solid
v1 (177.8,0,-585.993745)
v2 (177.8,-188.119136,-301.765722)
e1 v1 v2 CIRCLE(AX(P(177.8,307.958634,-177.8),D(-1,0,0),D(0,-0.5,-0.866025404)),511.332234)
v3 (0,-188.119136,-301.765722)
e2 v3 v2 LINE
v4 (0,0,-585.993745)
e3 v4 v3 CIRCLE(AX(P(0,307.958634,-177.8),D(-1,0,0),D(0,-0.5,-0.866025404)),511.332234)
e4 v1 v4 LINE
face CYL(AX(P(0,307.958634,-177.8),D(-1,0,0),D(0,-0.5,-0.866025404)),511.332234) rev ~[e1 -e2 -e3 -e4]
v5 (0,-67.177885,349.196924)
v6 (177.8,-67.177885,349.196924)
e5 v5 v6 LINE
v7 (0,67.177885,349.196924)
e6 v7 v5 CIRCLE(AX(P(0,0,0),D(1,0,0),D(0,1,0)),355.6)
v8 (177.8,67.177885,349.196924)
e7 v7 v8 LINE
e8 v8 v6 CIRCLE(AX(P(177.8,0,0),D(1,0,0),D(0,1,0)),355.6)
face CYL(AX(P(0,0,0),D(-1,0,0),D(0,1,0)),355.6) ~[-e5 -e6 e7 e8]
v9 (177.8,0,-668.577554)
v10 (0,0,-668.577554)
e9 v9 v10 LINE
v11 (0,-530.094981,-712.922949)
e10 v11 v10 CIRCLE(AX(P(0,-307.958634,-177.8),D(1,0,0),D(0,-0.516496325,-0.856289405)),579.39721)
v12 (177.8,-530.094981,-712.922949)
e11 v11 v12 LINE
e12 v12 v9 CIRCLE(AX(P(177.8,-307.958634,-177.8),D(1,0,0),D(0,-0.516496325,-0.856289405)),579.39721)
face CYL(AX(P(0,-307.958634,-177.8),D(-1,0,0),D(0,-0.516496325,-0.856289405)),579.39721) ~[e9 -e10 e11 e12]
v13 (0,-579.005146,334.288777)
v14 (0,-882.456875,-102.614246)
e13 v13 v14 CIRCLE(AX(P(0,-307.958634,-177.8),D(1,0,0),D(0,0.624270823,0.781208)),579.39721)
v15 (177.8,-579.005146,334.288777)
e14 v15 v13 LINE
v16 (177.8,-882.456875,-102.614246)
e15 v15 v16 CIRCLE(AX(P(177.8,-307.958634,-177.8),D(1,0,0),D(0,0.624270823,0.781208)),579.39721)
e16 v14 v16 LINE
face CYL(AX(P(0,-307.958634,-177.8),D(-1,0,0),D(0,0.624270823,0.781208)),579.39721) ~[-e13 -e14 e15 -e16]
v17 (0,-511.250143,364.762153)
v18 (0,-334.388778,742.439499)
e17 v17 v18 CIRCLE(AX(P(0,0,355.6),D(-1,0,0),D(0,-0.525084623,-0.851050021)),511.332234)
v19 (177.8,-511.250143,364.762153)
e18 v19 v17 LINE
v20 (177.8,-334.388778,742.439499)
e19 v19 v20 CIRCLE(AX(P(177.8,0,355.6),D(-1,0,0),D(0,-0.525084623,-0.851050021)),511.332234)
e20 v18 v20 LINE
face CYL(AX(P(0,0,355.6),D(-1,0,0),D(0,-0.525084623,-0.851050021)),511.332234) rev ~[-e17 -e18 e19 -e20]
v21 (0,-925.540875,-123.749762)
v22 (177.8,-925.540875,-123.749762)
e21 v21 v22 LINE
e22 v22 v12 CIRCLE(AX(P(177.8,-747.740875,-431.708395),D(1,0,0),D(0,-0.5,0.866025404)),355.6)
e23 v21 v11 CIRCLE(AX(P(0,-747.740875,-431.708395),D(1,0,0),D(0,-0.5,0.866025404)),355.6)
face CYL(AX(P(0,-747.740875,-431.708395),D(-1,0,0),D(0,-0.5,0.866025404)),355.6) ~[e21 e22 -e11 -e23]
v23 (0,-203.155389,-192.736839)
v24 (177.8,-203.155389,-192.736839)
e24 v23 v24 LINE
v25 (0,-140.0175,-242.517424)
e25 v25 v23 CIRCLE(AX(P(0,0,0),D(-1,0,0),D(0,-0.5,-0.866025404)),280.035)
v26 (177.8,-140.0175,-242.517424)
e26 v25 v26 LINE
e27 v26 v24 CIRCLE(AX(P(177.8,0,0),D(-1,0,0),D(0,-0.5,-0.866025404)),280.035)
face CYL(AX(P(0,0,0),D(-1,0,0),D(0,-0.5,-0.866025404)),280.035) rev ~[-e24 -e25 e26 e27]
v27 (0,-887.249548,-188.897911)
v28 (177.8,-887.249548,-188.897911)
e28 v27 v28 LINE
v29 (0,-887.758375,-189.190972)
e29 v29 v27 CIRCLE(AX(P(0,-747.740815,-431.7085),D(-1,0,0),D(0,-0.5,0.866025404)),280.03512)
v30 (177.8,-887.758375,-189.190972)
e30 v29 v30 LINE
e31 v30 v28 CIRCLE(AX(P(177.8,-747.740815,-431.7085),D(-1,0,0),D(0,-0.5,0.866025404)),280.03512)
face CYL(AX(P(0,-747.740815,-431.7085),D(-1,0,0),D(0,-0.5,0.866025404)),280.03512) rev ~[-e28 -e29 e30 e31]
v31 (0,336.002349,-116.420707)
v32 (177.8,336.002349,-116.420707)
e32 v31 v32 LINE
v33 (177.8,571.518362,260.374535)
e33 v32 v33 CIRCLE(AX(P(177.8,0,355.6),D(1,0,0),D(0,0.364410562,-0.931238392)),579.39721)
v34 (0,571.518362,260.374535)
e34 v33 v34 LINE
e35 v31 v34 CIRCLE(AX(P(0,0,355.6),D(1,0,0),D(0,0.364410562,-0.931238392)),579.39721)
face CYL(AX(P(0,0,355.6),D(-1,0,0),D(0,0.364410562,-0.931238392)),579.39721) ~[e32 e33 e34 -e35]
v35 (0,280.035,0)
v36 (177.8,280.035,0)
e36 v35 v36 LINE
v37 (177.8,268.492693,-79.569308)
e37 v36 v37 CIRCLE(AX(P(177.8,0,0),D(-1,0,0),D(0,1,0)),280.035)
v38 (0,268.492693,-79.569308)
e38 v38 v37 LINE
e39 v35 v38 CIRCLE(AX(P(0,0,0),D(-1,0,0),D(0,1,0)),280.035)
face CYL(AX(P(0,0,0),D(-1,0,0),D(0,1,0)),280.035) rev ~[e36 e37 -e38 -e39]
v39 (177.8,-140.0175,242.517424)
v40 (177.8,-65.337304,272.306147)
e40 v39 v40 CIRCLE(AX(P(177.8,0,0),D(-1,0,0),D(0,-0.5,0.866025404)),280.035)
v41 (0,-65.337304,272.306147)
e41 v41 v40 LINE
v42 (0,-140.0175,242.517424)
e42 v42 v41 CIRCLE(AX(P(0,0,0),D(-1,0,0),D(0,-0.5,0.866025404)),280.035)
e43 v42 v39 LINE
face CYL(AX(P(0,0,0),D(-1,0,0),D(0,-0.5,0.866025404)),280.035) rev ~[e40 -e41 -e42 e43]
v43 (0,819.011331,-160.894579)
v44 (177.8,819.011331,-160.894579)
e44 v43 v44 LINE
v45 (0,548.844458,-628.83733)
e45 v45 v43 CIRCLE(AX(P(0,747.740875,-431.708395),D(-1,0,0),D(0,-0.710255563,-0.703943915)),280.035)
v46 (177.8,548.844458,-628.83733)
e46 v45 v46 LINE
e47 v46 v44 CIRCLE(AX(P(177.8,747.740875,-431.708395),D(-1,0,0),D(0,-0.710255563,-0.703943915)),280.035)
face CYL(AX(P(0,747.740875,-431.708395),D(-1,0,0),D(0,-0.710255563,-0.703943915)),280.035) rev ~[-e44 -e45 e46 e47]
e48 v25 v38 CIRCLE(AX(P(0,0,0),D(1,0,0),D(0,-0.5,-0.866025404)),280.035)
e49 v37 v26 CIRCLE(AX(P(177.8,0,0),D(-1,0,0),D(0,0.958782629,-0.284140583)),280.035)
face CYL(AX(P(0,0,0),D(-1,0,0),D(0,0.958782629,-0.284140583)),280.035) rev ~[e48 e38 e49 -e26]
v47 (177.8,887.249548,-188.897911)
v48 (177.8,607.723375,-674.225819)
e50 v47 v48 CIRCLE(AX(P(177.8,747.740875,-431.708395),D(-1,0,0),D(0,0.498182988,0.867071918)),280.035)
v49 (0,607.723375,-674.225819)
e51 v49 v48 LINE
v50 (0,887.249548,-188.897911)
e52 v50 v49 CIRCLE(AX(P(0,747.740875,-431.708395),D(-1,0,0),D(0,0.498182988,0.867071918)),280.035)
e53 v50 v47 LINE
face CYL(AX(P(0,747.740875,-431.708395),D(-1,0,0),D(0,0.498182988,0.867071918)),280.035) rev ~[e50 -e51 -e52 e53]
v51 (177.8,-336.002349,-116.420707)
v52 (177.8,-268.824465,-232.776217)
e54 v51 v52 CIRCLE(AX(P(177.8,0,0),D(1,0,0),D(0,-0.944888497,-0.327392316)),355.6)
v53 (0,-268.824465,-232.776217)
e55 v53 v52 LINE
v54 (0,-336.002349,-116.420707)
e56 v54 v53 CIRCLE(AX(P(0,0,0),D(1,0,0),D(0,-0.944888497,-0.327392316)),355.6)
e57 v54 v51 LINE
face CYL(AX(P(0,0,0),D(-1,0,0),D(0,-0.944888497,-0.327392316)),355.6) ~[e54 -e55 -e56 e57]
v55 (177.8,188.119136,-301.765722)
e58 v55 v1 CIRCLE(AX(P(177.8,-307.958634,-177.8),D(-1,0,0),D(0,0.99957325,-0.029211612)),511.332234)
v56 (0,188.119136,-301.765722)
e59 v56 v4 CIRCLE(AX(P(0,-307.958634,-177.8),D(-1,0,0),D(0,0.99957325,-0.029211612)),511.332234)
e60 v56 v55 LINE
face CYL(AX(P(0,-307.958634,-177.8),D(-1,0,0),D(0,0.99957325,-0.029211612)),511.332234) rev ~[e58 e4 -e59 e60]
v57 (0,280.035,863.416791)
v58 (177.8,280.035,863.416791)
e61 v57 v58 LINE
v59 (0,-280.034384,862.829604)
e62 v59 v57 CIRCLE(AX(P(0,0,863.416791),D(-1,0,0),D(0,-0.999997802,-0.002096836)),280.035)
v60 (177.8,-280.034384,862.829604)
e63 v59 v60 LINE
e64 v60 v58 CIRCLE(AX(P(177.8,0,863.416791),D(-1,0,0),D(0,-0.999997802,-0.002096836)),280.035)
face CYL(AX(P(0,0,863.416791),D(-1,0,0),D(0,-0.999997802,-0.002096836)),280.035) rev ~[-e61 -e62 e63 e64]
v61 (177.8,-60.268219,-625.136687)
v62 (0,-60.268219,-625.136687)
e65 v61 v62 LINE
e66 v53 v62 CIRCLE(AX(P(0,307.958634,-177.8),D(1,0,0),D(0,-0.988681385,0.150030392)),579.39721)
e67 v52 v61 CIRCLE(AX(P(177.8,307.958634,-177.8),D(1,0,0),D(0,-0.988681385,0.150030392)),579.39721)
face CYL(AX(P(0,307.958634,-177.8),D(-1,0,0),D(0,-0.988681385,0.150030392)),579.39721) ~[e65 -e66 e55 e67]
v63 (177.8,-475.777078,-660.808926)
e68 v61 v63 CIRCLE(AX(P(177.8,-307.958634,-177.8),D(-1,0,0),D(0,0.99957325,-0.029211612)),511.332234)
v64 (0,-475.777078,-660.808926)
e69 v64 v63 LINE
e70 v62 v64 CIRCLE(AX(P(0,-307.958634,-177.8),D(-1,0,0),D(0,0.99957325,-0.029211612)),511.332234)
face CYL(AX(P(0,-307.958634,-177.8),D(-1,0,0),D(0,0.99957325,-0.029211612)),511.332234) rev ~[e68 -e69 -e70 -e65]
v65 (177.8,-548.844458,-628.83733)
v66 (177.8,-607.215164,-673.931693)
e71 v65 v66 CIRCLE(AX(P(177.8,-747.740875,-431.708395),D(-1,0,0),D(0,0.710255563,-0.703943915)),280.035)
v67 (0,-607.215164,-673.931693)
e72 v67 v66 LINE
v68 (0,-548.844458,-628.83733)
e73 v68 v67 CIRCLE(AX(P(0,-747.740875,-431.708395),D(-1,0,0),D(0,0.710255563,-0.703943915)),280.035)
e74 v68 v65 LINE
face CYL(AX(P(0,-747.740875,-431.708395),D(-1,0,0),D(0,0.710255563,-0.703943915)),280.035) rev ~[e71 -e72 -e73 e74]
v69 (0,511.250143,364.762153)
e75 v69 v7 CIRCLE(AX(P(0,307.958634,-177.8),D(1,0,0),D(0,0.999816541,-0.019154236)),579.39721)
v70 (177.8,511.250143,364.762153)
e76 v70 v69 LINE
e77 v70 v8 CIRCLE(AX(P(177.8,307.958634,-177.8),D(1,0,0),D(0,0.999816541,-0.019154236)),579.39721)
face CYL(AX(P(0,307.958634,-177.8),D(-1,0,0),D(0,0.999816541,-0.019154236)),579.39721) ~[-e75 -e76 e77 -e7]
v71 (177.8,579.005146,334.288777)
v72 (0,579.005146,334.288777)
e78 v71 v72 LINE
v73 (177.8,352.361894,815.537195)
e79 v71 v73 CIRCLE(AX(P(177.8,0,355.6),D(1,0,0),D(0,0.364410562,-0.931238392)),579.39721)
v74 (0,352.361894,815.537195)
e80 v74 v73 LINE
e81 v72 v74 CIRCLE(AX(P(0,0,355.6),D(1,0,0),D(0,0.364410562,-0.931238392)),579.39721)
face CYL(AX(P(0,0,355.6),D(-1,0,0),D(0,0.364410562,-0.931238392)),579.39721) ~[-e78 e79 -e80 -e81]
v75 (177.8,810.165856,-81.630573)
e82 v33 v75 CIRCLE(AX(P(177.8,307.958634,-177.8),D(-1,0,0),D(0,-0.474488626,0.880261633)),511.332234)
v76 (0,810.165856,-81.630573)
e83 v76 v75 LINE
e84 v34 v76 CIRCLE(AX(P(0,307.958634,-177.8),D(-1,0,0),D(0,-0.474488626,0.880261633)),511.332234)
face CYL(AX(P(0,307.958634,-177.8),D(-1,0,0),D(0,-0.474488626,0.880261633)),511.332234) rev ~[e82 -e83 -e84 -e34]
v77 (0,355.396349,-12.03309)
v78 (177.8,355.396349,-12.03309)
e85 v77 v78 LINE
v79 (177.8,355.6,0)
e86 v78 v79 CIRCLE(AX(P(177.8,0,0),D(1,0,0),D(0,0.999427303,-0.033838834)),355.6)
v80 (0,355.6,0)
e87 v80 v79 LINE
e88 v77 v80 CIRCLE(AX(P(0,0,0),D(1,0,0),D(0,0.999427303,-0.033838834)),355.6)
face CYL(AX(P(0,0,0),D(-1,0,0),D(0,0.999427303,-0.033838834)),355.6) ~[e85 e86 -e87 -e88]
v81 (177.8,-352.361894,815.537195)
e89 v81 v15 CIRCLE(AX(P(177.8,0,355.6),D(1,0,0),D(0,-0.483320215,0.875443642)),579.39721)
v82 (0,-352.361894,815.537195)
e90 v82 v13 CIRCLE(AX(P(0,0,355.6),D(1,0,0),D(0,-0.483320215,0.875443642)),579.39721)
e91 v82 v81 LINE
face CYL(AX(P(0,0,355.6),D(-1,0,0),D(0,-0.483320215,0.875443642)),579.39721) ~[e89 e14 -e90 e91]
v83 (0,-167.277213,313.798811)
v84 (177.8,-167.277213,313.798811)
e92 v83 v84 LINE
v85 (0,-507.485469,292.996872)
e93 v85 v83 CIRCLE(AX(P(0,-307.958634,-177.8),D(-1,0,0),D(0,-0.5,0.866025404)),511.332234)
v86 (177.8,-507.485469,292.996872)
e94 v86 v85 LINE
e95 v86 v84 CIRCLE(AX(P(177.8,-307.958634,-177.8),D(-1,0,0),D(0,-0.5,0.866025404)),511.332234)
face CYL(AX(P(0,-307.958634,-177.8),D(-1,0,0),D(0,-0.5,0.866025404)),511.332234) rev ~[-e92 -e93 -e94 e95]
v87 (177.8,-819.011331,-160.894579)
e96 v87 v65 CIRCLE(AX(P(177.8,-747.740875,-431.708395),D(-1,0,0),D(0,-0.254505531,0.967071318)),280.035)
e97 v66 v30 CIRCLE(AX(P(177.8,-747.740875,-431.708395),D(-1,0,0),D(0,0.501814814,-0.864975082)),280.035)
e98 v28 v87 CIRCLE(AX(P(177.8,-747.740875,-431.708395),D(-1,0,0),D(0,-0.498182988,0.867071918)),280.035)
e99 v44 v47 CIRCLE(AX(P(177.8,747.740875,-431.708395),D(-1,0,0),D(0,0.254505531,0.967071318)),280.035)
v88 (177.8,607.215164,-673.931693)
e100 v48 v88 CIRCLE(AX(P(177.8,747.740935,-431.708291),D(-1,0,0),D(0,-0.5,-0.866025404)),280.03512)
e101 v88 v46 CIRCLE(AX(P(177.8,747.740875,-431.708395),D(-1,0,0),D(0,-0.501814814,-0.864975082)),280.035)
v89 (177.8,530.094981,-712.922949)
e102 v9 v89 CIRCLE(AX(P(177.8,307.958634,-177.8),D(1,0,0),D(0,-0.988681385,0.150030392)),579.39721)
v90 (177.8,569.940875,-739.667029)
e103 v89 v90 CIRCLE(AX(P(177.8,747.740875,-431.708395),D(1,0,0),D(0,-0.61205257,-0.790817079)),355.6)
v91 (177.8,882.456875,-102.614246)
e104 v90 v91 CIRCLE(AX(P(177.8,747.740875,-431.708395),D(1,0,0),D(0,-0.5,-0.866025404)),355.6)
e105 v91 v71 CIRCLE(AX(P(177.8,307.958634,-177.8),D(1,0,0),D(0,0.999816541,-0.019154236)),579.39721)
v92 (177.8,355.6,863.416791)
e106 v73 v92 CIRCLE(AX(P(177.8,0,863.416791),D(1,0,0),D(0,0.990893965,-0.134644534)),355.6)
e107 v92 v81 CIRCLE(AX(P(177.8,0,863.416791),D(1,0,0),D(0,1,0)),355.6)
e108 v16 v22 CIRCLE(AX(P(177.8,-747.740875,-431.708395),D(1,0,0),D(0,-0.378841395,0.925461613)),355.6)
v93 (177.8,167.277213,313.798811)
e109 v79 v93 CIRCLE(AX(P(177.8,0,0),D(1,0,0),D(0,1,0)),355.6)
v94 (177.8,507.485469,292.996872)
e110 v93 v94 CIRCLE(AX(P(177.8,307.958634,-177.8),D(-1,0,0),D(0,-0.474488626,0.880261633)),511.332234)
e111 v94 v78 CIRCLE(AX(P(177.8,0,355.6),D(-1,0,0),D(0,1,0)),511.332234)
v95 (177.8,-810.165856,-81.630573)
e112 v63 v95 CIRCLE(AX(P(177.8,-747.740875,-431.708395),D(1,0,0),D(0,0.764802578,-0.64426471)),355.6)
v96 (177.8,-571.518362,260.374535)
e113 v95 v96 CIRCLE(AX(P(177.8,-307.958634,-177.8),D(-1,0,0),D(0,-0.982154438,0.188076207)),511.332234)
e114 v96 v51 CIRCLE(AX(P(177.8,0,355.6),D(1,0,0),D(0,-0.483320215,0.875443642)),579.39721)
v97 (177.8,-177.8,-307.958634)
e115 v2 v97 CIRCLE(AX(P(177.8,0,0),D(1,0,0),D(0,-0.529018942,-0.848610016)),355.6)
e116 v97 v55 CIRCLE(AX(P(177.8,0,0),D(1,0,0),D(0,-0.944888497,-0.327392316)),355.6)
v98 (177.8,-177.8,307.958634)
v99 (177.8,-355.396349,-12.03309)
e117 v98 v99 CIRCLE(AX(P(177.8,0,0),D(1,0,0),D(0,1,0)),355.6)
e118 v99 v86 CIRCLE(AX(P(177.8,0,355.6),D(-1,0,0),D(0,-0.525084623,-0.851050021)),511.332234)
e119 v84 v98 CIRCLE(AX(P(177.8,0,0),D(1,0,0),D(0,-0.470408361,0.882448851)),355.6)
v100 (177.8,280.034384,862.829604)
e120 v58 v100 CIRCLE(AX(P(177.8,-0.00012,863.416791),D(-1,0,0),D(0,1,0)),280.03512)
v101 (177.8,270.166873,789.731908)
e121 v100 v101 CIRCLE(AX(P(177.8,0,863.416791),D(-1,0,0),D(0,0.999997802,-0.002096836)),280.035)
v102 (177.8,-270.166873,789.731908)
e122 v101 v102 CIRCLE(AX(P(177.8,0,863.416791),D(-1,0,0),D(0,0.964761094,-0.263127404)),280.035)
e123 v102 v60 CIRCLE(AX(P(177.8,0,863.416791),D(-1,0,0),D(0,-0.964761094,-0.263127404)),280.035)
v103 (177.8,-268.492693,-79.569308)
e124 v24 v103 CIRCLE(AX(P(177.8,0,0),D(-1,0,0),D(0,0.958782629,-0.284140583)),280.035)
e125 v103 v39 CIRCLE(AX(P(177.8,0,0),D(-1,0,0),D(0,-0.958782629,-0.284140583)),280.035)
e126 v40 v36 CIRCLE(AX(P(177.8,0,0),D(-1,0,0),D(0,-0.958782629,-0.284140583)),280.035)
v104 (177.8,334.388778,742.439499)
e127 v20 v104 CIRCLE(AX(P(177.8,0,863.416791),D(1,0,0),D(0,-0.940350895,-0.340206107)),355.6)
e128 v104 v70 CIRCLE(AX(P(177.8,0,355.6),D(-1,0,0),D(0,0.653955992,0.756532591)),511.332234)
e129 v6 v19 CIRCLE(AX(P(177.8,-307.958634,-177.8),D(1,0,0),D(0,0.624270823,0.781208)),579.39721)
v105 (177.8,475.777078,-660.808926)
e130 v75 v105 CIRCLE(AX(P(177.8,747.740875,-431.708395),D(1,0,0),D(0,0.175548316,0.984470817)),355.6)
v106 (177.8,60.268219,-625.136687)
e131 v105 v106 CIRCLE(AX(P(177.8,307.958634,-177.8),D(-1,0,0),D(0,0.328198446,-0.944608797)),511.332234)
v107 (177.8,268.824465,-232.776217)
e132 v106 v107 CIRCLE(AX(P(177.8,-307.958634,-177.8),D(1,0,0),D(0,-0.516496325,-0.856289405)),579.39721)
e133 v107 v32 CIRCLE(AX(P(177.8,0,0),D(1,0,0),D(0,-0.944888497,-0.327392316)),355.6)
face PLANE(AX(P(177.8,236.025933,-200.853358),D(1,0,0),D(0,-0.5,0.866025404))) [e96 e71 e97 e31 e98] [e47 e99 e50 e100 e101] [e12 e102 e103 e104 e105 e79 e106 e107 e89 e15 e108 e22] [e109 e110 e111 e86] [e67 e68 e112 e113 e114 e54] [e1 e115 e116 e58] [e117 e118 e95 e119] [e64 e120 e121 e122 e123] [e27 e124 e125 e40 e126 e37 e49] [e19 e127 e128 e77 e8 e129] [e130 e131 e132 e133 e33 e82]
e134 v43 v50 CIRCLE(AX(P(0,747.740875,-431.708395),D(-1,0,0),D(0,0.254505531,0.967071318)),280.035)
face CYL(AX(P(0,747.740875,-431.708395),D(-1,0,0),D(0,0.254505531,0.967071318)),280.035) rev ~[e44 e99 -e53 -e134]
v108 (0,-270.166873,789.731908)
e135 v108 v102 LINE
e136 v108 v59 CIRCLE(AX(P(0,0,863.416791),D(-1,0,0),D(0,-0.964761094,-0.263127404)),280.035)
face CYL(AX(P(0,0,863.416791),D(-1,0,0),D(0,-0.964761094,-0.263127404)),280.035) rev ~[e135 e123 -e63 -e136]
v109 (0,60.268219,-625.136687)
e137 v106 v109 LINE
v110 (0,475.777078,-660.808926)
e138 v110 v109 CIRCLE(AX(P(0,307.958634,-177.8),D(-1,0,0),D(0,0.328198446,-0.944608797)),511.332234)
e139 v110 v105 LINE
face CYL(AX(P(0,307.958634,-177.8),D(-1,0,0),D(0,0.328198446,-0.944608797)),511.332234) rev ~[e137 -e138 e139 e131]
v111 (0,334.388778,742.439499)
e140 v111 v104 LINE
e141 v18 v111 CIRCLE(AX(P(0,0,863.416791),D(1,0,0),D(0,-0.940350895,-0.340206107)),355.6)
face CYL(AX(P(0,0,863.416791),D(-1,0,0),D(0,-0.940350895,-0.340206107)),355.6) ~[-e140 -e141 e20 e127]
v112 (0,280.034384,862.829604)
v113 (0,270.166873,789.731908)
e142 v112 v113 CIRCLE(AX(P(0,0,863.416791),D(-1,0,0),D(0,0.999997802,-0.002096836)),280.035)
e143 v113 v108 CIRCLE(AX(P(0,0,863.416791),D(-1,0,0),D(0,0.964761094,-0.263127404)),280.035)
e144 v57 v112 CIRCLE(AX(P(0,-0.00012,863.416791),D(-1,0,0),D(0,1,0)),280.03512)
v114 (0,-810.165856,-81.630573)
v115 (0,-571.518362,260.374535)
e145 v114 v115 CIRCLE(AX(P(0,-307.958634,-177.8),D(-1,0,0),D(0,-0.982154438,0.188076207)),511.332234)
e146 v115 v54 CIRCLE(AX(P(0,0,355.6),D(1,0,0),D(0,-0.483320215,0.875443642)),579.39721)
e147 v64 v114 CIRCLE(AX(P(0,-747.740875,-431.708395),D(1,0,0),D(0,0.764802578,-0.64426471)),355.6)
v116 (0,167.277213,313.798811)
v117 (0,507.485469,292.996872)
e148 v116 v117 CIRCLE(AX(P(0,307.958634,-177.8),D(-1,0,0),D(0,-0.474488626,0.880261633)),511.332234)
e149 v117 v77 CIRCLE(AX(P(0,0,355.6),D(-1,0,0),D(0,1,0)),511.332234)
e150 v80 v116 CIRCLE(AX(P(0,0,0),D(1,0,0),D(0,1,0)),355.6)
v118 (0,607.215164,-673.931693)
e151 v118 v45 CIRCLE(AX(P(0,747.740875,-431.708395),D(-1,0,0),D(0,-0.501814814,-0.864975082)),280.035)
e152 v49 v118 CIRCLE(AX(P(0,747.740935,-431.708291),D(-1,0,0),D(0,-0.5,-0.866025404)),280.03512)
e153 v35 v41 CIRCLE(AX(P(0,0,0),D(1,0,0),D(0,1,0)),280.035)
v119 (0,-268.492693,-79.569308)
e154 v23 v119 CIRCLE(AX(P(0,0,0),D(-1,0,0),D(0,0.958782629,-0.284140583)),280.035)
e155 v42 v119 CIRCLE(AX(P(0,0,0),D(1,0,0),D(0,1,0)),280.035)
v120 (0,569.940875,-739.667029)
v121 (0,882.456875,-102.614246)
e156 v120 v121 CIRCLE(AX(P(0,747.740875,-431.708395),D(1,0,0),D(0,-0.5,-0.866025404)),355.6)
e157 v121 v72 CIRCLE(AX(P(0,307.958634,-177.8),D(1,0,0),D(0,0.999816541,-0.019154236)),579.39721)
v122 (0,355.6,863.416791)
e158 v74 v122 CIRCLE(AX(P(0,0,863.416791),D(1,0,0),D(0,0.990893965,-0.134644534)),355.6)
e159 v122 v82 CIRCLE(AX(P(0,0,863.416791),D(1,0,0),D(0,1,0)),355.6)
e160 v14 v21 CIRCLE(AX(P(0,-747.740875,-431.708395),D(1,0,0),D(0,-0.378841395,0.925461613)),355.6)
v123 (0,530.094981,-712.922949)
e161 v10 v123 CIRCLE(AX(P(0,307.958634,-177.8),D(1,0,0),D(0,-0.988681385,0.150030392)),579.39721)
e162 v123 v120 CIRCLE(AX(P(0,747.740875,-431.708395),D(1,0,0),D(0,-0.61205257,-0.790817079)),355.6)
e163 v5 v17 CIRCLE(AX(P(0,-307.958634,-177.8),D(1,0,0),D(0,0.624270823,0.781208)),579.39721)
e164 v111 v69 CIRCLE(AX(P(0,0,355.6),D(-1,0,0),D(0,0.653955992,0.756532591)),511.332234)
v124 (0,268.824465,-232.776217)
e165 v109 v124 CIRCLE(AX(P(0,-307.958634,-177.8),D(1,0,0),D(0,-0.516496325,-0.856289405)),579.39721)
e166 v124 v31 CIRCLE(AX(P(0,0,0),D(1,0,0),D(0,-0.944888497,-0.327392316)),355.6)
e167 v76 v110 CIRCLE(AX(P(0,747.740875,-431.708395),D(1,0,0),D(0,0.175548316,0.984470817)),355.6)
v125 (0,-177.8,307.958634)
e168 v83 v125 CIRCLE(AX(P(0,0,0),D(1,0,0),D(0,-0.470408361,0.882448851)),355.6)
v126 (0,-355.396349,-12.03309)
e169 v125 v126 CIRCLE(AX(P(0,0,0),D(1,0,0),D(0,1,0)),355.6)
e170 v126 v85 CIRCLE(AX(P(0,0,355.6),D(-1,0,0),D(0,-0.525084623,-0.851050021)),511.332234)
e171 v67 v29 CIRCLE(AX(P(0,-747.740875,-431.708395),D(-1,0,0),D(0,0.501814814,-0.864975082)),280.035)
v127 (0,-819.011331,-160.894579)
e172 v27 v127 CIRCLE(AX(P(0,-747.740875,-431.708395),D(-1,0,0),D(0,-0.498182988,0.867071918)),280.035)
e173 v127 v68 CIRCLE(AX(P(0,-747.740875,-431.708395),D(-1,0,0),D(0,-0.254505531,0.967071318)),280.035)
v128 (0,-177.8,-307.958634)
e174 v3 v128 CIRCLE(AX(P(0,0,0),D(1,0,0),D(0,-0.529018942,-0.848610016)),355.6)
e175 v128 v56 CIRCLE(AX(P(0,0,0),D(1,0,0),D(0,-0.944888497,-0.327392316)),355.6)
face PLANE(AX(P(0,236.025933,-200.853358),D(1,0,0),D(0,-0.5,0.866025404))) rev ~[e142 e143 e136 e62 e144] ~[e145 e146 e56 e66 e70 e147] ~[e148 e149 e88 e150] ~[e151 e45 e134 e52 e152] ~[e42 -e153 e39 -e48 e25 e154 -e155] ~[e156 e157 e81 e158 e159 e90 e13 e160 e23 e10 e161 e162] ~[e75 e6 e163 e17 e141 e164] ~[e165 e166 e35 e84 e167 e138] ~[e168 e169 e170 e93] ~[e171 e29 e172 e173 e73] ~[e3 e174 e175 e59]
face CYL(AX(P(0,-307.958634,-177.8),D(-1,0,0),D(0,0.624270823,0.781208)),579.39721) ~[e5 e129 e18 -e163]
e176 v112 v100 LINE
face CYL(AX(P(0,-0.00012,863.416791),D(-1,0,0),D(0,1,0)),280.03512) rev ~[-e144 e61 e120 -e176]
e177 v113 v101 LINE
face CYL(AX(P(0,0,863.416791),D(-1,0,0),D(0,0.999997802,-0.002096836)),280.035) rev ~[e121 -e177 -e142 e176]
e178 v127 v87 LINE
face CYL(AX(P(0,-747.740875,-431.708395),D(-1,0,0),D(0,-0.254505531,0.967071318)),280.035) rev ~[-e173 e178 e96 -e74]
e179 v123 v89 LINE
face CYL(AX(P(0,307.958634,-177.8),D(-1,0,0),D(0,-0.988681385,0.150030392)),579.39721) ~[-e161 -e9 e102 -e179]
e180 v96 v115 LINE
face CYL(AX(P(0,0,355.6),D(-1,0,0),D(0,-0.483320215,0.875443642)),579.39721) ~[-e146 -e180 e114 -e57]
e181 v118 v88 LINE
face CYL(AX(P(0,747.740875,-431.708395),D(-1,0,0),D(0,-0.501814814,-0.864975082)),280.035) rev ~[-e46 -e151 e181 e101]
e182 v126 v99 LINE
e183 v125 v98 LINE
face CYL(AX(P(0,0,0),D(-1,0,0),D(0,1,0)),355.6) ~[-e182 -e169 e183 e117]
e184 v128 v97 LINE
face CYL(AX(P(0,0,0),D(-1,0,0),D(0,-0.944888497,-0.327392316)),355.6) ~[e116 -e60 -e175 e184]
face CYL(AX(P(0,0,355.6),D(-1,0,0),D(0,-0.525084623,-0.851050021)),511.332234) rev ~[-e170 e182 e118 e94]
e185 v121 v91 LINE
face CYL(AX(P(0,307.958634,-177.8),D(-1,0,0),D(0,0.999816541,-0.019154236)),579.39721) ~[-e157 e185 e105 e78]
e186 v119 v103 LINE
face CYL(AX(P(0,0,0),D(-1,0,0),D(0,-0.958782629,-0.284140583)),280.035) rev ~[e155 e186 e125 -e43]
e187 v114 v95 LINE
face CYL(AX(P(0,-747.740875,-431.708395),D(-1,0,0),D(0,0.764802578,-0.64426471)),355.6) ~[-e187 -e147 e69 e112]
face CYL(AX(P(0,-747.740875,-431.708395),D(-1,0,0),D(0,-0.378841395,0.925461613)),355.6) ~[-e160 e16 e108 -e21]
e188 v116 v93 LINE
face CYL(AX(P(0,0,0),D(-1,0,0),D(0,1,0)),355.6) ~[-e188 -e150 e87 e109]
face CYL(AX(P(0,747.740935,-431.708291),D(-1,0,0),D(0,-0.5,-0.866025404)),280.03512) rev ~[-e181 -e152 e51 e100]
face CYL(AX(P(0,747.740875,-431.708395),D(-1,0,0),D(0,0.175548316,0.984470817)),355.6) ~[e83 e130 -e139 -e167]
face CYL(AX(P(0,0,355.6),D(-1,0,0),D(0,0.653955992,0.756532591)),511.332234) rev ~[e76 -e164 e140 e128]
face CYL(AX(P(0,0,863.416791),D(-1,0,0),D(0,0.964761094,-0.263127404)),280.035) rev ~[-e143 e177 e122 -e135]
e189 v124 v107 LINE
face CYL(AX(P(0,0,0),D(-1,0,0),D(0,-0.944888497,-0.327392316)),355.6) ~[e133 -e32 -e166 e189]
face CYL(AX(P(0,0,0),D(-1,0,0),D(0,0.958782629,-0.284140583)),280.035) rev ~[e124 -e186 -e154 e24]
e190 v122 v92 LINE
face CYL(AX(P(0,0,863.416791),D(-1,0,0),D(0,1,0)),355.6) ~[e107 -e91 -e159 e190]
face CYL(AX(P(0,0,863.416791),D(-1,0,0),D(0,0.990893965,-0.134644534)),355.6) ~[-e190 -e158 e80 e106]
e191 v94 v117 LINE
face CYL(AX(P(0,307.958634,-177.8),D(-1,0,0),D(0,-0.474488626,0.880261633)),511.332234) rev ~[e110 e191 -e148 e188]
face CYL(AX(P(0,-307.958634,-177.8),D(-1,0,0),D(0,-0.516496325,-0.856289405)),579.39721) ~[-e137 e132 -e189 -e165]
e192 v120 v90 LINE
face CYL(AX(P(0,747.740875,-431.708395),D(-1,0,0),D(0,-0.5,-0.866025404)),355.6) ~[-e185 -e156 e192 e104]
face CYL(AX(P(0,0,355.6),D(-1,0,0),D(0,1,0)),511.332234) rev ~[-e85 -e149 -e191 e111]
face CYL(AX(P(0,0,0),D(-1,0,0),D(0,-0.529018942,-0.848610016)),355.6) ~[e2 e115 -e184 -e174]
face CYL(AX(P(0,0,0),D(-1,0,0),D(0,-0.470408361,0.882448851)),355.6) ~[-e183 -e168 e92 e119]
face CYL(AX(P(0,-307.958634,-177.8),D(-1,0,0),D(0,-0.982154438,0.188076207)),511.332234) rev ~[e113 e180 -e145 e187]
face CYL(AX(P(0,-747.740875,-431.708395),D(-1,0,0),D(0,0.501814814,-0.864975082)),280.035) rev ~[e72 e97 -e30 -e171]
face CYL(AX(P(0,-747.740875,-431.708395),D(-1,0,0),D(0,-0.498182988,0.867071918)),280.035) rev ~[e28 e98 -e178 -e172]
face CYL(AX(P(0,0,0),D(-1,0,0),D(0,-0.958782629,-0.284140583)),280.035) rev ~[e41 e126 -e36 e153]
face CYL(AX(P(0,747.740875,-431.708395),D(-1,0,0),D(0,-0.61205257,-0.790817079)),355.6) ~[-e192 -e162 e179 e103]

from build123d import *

# Parameters (mm, degrees)
F1_DEPTH = 177.8
F2_COUNT = 3


with BuildPart() as f1:
    # F0 (on Right) → F1 (new body)
    with BuildSketch(Plane.YZ):
        with BuildLine():
            ThreePointArc((-268.4926933874, -79.5693082951), (-313.7669030634, -48.1461873832), (-355.396348822, -12.0330895451))
            ThreePointArc((-355.396348822, -12.0330895451), (-349.6172674569, -64.9548019471), (-336.0023494952, -116.4207074952))
            ThreePointArc((-336.0023494952, -116.4207074952), (-275.6466077337, -154.0273882117), (-211.1384628897, -183.9569262452))
            ThreePointArc((-211.1384628897, -183.9569262452), (-245.4296339346, -134.8476770721), (-268.4926933874, -79.5693082951))
        make_face()
        with BuildLine():
            ThreePointArc((-336.0023494952, -116.4207074952), (-349.6172674569, -64.9548019471), (-355.396348822, -12.0330895451))
            ThreePointArc((-355.396348822, -12.0330895451), (-511.134133308, 369.8320431433), (-334.3887781327, 742.4394994612))
            ThreePointArc((-334.3887781327, 742.4394994612), (-345.3149861043, 778.5114296956), (-352.361893863, 815.5371945428))
            ThreePointArc((-352.361893863, 815.5371945428), (-579.3079627247, 345.4308557736), (-336.0023494952, -116.4207074952))
        make_face()
        with BuildLine():
            ThreePointArc((511.3322337625, 355.6), (470.7367959904, 155.9314692167), (355.396348822, -12.0330895451))
            ThreePointArc((355.396348822, -12.0330895451), (349.6172674569, -64.9548019471), (336.0023494952, -116.4207074952))
            ThreePointArc((336.0023494952, -116.4207074952), (514.9659945491, 90.0606401517), (579.3972101854, 355.6))
            ThreePointArc((579.3972101854, 355.6), (519.5472189563, 612.0601615171), (352.361893863, 815.5371945428))
            ThreePointArc((352.361893863, 815.5371945428), (345.3149861043, 778.5114296956), (334.3887781327, 742.4394994612))
            ThreePointArc((334.3887781327, 742.4394994612), (464.9969968463, 568.2933149123), (511.3322337625, 355.6))
        make_face()
        with BuildLine():
            ThreePointArc((336.0023494952, -116.4207074952), (349.6172674569, -64.9548019471), (355.396348822, -12.0330895451))
            ThreePointArc((355.396348822, -12.0330895451), (313.7669030634, -48.1461873832), (268.4926933874, -79.5693082951))
            ThreePointArc((268.4926933874, -79.5693082951), (245.4296339346, -134.8476770721), (211.1384628897, -183.9569262452))
            ThreePointArc((211.1384628897, -183.9569262452), (275.6466077337, -154.0273882117), (336.0023494952, -116.4207074952))
        make_face()
        with BuildLine():
            ThreePointArc((-211.1384628897, -183.9569262452), (-275.6466077337, -154.0273882117), (-336.0023494952, -116.4207074952))
            ThreePointArc((-336.0023494952, -116.4207074952), (0, -355.6), (336.0023494952, -116.4207074952))
            ThreePointArc((336.0023494952, -116.4207074952), (275.6466077337, -154.0273882117), (211.1384628897, -183.9569262452))
            ThreePointArc((211.1384628897, -183.9569262452), (0, -280.035), (-211.1384628897, -183.9569262452))
        make_face()
        with BuildLine():
            ThreePointArc((-352.361893863, 815.5371945428), (-345.3149861043, 778.5114296956), (-334.3887781327, 742.4394994612))
            ThreePointArc((-334.3887781327, 742.4394994612), (-303.2012975673, 767.3397557172), (-270.1668730977, 789.7319084854))
            ThreePointArc((-270.1668730977, 789.7319084854), (-277.5178808464, 825.9544493975), (-280.0343843816, 862.8296035669))
            ThreePointArc((-280.0343843816, 862.8296035669), (-317.0810719236, 840.5337284603), (-352.361893863, 815.5371945428))
        make_face()
        with BuildLine():
            ThreePointArc((355.6, 863.4167909622), (-23.994484182, 1218.2063408771), (-352.361893863, 815.5371945428))
            ThreePointArc((-352.361893863, 815.5371945428), (-317.0810719236, 840.5337284603), (-280.0343843816, 862.8296035669))
            ThreePointArc((-280.0343843816, 862.8296035669), (-0.293593859, 1143.4516370576), (280.035, 863.4167909622))
            ThreePointArc((280.035, 863.4167909622), (280.0348460953, 863.1231971032), (280.0343843816, 862.8296035669))
            ThreePointArc((280.0343843816, 862.8296035669), (317.0810719236, 840.5337284603), (352.361893863, 815.5371945428))
            ThreePointArc((352.361893863, 815.5371945428), (354.7895499149, 839.4223067802), (355.6, 863.4167909622))
        make_face()
        with BuildLine():
            ThreePointArc((270.1668730977, 789.7319084854), (303.2012975673, 767.3397557172), (334.3887781327, 742.4394994612))
            ThreePointArc((334.3887781327, 742.4394994612), (345.3149861043, 778.5114296956), (352.361893863, 815.5371945428))
            ThreePointArc((352.361893863, 815.5371945428), (317.0810719236, 840.5337284603), (280.0343843816, 862.8296035669))
            ThreePointArc((280.0343843816, 862.8296035669), (277.5178808464, 825.9544493975), (270.1668730977, 789.7319084854))
        make_face()
        with BuildLine():
            ThreePointArc((-270.1668730977, 789.7319084854), (-303.2012975673, 767.3397557172), (-334.3887781327, 742.4394994612))
            ThreePointArc((-334.3887781327, 742.4394994612), (0, 507.8167909622), (334.3887781327, 742.4394994612))
            ThreePointArc((334.3887781327, 742.4394994612), (303.2012975673, 767.3397557172), (270.1668730977, 789.7319084854))
            ThreePointArc((270.1668730977, 789.7319084854), (0, 583.3817909622), (-270.1668730977, 789.7319084854))
        make_face()
        with BuildLine():
            ThreePointArc((355.396348822, -12.0330895451), (355.5490835603, -6.0174063724), (355.6, 0))
            ThreePointArc((355.6, 0), (-6.0174063724, 355.5490835603), (-355.396348822, -12.0330895451))
            ThreePointArc((-355.396348822, -12.0330895451), (-313.7669030634, -48.1461873832), (-268.4926933874, -79.5693082951))
            ThreePointArc((-268.4926933874, -79.5693082951), (-40.2010561568, 277.1344011646), (280.035, 0))
            ThreePointArc((280.035, 0), (277.1344011646, -40.2010561568), (268.4926933874, -79.5693082951))
            ThreePointArc((268.4926933874, -79.5693082951), (313.7669030634, -48.1461873832), (355.396348822, -12.0330895451))
        make_face()
    extrude(amount=F1_DEPTH)

    # F2: F1 ×3 about axis
    f2_axis = Axis((0, -4e-10, 0), (-1, 0, 0))


with BuildPart() as f1_1:
    add(f1.part)
    for i in range(1, F2_COUNT):
        add(f1.part.rotate(f2_axis, i * 360 / F2_COUNT))


solid = f1_1.part
